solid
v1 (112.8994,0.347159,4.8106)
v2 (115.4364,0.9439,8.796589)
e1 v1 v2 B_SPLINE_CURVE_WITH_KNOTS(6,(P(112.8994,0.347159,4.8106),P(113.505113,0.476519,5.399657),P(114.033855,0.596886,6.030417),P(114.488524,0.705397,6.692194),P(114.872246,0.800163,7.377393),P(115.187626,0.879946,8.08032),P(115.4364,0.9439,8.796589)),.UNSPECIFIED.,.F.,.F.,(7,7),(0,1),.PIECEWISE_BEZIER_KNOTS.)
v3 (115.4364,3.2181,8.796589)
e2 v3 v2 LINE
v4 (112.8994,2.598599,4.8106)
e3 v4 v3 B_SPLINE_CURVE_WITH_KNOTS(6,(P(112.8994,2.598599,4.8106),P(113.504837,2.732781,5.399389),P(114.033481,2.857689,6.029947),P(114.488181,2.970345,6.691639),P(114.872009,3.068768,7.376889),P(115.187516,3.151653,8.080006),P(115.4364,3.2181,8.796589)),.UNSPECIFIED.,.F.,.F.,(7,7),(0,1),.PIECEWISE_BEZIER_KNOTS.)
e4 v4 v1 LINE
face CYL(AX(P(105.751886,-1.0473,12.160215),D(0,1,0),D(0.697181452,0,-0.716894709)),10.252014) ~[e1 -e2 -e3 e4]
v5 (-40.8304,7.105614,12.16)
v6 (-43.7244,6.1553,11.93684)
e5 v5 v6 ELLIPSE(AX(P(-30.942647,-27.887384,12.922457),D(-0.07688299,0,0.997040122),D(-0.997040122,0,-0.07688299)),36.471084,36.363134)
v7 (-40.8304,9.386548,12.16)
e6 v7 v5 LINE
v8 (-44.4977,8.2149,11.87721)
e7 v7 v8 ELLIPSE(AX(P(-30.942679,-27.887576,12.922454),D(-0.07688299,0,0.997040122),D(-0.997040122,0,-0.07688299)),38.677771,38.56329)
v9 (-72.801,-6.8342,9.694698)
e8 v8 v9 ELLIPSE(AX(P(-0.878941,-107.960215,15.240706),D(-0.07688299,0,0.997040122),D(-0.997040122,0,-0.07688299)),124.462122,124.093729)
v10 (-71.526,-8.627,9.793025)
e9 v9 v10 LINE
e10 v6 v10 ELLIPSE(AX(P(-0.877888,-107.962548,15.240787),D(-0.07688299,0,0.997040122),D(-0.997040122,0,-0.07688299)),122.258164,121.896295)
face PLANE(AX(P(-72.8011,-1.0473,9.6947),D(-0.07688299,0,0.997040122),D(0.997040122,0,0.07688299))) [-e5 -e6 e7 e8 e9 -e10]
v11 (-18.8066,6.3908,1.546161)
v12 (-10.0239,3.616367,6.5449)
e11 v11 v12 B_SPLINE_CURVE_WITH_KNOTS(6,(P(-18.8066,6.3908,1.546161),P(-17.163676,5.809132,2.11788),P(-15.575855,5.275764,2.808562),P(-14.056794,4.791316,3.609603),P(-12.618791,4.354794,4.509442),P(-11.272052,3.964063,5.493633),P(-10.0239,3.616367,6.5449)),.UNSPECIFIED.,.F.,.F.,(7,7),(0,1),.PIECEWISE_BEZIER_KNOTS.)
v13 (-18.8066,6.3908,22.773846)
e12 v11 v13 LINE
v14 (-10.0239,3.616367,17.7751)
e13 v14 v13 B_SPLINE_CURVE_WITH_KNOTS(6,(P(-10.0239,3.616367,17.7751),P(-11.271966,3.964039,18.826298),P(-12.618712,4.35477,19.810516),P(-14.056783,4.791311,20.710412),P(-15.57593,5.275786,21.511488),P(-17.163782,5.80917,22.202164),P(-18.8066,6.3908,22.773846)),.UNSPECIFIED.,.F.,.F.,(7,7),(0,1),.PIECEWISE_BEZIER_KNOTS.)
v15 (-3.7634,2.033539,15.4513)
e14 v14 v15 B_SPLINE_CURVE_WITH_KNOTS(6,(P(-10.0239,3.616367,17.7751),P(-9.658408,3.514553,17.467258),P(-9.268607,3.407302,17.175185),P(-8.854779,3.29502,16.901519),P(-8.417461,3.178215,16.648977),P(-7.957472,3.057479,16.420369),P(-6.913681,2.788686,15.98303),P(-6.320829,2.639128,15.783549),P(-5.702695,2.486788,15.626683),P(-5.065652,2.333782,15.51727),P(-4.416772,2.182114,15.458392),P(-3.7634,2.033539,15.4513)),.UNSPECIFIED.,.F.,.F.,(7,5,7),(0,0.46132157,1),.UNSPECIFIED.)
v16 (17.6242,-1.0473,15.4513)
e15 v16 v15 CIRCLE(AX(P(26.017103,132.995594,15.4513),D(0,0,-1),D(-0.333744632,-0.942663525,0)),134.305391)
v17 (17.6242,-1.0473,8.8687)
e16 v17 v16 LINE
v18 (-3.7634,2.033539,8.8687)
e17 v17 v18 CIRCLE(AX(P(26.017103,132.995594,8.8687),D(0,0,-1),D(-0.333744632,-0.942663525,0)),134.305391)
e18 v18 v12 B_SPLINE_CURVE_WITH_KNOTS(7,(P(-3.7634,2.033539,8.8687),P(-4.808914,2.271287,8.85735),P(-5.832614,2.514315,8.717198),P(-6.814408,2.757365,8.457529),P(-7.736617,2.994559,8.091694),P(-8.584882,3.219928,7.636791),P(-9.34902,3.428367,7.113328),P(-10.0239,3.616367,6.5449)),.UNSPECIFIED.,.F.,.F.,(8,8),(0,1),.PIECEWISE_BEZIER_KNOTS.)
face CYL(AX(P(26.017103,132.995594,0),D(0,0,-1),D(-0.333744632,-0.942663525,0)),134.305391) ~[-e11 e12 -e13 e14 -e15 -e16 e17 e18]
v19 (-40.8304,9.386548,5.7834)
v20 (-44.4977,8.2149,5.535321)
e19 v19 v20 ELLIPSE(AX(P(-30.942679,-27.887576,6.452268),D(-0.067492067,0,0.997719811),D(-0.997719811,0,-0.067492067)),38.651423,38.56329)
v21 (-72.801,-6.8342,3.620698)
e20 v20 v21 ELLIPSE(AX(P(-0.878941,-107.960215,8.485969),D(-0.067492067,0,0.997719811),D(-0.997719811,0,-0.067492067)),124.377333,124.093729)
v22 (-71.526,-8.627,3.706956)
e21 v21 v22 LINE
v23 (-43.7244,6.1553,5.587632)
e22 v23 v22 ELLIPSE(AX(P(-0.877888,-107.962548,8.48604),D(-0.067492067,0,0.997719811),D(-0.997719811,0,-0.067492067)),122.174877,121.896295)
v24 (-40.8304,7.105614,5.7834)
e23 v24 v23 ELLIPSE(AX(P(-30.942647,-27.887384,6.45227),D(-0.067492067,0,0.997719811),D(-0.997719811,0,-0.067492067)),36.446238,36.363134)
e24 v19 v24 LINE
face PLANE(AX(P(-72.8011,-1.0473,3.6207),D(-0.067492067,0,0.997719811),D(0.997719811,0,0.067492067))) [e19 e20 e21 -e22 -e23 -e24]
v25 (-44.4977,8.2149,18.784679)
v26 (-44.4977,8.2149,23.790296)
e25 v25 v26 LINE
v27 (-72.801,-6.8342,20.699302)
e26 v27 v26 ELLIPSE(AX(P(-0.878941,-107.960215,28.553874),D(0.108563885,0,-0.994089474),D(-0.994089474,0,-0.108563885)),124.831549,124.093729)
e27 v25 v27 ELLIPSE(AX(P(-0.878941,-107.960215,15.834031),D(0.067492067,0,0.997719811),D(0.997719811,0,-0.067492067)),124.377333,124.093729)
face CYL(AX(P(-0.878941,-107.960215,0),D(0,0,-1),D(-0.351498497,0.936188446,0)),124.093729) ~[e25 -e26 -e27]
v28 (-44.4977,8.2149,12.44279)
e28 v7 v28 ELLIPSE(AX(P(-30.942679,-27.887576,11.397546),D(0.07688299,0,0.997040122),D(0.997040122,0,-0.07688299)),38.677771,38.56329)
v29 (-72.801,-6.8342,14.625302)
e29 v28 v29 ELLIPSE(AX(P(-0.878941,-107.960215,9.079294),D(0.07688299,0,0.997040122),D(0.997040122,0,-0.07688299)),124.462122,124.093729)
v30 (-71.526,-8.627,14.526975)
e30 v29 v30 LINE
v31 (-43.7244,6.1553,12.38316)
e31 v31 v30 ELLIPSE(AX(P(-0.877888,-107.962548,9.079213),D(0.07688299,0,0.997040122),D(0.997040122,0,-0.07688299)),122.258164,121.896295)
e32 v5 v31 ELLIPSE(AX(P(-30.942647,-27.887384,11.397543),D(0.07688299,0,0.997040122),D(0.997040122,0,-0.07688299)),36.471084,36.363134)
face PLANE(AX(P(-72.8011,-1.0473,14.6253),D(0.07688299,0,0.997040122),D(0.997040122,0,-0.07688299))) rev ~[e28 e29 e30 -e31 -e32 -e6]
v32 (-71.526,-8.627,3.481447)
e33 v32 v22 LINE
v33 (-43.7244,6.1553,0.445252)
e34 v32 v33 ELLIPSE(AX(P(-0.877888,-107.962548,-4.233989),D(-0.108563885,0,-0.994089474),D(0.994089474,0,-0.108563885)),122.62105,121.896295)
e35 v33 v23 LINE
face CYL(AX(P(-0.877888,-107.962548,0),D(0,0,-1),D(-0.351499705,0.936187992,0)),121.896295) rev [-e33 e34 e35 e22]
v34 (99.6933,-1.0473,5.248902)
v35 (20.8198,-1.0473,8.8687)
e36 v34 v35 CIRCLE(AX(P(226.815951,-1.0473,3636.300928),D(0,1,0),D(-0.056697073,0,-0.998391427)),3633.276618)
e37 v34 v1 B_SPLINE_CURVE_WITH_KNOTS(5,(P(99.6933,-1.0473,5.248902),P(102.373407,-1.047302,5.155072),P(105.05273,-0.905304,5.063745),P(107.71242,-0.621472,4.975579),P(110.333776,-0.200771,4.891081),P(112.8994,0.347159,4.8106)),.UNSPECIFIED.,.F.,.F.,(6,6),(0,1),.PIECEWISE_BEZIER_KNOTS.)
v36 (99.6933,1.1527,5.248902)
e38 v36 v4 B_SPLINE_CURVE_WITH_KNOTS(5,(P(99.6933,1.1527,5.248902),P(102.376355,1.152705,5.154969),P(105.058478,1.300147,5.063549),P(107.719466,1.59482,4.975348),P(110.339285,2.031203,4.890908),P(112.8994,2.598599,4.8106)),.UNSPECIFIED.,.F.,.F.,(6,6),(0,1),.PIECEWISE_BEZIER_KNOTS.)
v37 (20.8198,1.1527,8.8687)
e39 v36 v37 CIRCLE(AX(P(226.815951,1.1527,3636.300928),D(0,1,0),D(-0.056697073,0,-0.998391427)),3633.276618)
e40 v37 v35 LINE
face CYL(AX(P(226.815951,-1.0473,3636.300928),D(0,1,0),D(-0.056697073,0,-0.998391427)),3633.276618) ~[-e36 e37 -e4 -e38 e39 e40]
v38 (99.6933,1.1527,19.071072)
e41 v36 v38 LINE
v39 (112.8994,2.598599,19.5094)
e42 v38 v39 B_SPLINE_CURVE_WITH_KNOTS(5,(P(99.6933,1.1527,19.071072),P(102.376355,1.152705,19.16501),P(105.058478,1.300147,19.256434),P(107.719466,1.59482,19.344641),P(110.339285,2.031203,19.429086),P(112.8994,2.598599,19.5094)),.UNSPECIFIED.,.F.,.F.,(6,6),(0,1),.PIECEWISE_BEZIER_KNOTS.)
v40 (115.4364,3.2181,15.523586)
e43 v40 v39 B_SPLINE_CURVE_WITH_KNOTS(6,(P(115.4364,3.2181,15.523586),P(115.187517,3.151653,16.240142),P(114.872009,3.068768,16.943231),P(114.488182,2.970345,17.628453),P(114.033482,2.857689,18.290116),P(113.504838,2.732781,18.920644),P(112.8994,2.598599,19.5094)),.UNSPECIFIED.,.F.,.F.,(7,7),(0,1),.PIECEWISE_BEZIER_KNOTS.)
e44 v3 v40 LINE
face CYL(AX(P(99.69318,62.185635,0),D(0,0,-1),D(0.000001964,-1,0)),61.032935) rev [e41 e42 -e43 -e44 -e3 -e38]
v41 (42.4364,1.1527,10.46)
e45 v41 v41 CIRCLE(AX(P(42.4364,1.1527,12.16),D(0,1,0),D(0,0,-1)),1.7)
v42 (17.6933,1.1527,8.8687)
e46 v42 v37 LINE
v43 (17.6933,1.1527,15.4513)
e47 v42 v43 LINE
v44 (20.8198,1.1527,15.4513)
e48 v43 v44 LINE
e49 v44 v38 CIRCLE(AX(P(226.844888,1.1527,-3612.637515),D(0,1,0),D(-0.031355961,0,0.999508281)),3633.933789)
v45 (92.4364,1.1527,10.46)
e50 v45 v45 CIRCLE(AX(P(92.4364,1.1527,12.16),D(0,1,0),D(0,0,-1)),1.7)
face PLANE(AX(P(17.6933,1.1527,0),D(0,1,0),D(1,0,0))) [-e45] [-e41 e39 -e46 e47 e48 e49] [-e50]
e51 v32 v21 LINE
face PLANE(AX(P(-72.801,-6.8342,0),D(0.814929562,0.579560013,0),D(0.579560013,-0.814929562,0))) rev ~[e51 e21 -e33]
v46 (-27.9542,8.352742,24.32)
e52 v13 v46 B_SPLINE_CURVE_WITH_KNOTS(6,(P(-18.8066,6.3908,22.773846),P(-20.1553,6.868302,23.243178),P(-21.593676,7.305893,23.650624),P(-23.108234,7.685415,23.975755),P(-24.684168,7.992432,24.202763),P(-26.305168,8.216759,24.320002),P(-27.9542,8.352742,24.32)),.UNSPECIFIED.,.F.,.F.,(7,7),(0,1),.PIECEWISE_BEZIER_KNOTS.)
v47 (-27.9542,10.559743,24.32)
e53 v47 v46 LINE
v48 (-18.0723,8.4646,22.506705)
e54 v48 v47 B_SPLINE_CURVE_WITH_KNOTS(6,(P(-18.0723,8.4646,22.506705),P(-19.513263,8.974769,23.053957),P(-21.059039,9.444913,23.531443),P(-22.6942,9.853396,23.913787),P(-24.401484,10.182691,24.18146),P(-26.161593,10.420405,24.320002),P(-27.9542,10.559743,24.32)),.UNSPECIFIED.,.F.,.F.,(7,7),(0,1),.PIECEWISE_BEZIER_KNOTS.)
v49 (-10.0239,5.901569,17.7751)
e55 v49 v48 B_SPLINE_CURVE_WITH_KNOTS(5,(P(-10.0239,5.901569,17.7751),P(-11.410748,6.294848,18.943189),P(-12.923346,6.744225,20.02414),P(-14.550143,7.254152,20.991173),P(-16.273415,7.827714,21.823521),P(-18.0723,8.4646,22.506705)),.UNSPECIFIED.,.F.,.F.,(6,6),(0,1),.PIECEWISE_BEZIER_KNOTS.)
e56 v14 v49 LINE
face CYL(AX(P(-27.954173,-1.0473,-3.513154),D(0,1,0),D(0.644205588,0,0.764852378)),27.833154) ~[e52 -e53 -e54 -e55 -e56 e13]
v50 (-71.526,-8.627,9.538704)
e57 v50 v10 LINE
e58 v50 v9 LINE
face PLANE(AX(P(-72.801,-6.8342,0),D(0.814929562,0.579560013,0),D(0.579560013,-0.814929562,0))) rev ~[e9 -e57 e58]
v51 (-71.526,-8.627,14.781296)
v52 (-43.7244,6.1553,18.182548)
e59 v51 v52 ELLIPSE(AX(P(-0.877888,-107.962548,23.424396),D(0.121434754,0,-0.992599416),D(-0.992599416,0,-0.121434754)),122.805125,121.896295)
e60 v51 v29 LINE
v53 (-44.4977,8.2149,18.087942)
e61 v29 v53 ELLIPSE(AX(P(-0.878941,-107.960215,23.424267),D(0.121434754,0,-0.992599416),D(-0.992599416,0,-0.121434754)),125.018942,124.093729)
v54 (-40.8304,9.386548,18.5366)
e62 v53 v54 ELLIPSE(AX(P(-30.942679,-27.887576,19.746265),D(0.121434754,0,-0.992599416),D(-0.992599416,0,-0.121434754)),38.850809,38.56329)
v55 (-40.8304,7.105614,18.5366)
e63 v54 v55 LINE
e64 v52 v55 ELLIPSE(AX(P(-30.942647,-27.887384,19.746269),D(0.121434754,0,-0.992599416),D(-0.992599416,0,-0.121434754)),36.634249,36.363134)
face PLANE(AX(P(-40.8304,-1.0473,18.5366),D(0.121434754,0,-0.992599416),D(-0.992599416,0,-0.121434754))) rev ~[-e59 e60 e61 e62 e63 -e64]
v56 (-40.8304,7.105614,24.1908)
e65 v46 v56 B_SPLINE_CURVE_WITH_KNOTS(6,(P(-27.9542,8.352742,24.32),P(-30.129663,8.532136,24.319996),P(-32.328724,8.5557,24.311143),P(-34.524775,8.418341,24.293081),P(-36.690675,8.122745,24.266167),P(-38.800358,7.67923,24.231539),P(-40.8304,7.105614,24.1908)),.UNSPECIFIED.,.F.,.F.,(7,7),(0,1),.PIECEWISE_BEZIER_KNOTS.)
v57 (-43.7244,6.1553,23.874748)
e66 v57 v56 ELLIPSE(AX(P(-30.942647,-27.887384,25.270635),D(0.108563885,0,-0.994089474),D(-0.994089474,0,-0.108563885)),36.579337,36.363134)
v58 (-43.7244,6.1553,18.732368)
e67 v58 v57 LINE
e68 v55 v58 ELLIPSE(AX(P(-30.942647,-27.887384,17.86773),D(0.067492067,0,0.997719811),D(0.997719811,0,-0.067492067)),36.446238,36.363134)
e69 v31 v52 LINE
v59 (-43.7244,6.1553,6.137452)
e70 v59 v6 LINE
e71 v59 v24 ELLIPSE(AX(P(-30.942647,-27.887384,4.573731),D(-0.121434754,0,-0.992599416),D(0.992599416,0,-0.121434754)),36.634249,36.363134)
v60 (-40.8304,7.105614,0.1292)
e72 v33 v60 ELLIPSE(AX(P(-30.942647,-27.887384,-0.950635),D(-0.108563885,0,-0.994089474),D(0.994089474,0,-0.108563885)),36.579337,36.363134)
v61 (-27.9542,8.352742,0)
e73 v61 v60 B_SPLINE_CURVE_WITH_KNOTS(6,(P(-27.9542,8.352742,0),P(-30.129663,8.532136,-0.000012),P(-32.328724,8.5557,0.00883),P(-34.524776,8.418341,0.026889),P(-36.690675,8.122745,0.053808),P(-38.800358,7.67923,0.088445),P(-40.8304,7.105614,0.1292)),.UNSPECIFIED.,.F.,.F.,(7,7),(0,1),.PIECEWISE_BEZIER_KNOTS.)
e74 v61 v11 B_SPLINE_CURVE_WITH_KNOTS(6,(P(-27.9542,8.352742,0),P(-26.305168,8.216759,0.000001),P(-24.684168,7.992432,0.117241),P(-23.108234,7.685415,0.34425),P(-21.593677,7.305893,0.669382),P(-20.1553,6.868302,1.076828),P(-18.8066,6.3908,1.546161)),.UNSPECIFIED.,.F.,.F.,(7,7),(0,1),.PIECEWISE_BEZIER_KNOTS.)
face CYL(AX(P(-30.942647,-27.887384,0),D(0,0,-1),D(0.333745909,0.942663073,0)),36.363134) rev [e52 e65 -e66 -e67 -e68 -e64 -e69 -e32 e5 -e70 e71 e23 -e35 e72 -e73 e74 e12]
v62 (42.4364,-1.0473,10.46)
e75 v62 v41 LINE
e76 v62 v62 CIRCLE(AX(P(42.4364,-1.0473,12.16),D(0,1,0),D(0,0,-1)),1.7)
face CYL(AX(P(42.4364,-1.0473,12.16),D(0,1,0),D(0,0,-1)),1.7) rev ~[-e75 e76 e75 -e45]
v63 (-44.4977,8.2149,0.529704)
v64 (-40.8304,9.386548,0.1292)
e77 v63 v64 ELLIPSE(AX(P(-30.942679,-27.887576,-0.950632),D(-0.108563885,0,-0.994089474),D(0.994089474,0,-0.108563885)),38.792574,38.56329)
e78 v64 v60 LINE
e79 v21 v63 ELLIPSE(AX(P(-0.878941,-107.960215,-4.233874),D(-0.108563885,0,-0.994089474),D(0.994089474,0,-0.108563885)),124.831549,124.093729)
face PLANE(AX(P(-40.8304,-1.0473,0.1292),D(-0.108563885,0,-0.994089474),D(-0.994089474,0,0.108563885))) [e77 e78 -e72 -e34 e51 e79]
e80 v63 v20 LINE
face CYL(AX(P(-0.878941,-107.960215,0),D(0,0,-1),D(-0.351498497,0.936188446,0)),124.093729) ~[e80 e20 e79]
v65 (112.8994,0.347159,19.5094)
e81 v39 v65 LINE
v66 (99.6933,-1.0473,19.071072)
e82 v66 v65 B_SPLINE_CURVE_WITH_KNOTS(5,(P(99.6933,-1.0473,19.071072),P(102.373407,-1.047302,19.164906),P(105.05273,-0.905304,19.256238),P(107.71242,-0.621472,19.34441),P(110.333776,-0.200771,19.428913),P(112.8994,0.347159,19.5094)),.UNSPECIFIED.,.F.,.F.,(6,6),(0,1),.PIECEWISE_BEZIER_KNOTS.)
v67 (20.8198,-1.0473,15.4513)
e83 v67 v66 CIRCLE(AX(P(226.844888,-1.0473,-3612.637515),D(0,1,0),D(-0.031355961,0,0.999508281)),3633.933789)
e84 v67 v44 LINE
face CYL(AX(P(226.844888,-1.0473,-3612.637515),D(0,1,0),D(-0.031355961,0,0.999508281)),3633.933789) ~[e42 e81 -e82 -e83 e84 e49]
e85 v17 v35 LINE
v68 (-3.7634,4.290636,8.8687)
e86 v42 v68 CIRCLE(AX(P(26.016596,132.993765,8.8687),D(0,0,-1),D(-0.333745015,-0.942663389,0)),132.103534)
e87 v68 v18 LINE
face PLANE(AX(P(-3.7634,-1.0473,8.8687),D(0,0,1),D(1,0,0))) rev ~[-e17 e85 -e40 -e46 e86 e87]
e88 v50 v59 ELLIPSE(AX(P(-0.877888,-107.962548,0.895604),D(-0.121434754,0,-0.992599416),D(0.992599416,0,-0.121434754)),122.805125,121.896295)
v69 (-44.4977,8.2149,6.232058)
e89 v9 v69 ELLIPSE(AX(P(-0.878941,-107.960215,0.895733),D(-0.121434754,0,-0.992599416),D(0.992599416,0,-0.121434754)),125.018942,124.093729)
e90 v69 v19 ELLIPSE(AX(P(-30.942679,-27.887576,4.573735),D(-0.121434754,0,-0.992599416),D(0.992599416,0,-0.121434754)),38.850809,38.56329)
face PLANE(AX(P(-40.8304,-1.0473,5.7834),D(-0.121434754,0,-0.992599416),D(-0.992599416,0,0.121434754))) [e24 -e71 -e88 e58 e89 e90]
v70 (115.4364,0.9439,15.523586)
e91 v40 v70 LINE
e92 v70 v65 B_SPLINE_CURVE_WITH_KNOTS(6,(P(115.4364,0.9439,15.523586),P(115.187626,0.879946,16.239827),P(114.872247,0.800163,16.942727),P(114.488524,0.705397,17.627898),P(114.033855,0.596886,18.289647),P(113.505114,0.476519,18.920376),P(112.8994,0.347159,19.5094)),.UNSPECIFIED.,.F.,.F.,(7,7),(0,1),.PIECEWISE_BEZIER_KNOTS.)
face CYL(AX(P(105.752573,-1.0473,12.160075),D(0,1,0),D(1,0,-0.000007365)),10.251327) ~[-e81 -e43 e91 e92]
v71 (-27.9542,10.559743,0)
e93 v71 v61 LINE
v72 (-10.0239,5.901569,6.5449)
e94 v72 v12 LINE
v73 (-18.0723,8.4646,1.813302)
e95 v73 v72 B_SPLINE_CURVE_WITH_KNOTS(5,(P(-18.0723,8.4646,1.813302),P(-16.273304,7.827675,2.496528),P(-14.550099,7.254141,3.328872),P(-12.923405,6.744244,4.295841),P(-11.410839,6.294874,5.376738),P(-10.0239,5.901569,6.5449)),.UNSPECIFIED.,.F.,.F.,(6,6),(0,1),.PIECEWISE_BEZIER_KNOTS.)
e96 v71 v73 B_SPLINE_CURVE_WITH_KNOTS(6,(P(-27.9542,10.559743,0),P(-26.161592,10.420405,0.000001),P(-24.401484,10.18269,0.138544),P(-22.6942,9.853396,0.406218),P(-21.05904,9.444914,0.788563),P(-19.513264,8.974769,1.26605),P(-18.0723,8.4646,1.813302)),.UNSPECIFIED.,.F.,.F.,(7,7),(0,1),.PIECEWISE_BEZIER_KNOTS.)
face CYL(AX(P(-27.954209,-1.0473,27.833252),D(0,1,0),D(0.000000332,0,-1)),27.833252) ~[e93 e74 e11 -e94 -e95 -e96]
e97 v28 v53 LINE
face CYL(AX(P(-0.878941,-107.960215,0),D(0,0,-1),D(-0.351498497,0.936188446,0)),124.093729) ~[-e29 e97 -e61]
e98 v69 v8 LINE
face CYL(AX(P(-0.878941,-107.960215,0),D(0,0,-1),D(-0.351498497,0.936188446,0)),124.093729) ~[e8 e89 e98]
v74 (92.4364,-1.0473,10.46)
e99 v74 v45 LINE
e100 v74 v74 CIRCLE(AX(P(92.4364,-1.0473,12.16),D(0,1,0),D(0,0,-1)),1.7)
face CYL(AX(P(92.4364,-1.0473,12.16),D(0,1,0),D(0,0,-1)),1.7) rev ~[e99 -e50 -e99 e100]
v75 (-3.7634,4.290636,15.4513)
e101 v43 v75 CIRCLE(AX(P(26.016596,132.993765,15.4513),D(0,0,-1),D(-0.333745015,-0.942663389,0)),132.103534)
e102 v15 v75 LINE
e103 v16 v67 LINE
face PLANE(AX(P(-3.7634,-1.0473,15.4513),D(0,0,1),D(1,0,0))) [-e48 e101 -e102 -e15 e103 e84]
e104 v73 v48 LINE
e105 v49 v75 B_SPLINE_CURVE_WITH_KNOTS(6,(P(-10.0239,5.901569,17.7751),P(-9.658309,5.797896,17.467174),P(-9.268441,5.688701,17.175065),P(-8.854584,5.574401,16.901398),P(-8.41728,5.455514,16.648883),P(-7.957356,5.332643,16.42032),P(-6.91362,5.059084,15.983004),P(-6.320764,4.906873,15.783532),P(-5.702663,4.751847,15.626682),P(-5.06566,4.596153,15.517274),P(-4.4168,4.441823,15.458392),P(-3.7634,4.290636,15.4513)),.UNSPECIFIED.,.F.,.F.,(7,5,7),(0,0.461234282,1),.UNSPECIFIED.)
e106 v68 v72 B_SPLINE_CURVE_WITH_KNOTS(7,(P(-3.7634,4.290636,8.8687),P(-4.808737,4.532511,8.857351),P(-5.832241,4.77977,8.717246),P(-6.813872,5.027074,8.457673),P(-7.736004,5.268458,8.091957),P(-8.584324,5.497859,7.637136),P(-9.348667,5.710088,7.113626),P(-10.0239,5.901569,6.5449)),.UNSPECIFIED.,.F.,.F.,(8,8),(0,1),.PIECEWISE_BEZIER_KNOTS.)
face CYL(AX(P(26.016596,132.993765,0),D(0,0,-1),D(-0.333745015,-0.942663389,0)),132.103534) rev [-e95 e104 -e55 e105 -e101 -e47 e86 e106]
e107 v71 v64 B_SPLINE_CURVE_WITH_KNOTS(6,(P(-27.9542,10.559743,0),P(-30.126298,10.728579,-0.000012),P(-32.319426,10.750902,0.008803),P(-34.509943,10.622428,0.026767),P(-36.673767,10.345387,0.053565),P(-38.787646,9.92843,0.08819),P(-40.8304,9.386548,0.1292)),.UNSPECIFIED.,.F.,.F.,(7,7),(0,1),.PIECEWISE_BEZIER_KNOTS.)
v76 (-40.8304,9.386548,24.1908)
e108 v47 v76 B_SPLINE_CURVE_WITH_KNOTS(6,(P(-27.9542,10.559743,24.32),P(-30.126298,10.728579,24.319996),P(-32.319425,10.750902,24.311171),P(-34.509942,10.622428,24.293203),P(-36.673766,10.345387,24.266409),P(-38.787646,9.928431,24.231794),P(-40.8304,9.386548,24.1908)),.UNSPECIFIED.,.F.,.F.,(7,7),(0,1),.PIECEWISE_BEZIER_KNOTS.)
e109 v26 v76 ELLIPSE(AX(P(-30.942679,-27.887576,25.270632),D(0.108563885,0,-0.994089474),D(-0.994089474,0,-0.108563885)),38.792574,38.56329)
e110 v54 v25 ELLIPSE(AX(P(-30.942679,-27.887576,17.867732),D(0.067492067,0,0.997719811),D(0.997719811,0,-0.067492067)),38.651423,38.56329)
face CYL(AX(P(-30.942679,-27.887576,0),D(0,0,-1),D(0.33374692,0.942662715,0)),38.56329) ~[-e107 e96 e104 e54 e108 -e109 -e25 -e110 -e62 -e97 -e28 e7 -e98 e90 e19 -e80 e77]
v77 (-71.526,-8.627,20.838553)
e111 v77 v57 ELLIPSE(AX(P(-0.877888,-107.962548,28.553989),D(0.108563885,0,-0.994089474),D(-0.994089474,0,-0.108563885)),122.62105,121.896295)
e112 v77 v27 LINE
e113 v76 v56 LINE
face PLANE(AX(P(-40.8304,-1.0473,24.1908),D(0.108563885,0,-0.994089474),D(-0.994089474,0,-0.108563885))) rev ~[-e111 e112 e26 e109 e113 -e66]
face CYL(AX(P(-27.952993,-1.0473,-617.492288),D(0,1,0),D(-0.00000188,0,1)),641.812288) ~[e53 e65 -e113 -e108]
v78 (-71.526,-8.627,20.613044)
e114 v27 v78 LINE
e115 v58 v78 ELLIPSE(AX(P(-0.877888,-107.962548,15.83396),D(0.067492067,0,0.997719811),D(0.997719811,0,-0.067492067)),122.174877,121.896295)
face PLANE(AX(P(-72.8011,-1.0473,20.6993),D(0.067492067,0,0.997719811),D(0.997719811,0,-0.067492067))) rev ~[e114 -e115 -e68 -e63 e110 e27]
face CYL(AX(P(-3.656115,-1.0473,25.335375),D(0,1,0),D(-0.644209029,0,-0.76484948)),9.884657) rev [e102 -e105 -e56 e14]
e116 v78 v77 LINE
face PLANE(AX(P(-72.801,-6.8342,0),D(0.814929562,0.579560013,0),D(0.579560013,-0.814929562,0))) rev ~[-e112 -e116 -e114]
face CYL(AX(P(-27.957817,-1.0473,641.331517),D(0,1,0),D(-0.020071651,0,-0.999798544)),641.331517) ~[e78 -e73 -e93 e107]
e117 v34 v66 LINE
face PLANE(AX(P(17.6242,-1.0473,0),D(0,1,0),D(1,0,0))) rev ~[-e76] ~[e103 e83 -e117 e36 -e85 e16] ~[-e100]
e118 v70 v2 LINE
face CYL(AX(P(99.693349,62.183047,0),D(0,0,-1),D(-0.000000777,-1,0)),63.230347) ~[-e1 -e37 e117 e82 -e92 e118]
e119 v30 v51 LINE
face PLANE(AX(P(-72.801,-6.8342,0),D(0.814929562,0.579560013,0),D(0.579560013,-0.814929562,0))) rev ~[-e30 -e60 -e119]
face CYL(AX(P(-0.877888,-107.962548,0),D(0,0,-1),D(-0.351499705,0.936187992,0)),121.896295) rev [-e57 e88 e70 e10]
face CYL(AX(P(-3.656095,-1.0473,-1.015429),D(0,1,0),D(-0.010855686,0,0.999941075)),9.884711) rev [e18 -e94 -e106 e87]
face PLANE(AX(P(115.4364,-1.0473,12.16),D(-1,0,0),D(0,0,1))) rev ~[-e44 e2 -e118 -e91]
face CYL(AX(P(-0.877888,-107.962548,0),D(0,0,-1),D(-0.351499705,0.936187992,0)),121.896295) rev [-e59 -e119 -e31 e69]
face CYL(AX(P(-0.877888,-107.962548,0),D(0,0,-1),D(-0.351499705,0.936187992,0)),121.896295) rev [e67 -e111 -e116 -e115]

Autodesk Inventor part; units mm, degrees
ref_plane "YZ Plane" through (0, 0, 0) normal (1, 0, 0) x (0, 1, 0)
ref_plane "XZ Plane" through (0, 0, 0) normal (0, 1, 0) x (-1, 0, 0)
ref_plane "XY Plane" through (0, 0, 0) normal (0, 0, 1) x (1, 0, 0)
sketch "スケッチ2" plane through (0, 0, 0) normal (0, 0, 1) x (1, 0, 0)
  arc A0 (-18.0723, 8.4646) -> (-44.4977, 8.2149) centre (-30.9427, -27.8877) ccw
  arc A1 (-18.0723, 8.4646) -> (17.6933, 1.1527) centre (26.0163, 132.9927) ccw
  arc A2 (99.6933, 1.1527) -> (115.4364, 3.2181) centre (99.6933, 62.1838) ccw
  arc A3 (-44.4977, 8.2149) -> (-72.801, -6.8342) centre (-0.878, -107.9623) ccw
  line L0 (17.6933, 1.1527) -> (99.6933, 1.1527)
  arc A4 (-43.7244, 6.1553) -> (-71.526, -8.627) centre (-0.878, -107.9623) ccw
  arc A5 (-18.8066, 6.3908) -> (-43.7244, 6.1553) centre (-30.9427, -27.8877) ccw
  arc A6 (-18.8066, 6.3908) -> (17.6242, -1.0473) centre (26.0163, 132.9927) ccw
  line L1 (17.6242, -1.0473) -> (99.6933, -1.0473)
  arc A7 (99.6933, -1.0473) -> (116.0039, 1.0926) centre (99.6933, 62.1838) ccw
  line L2 (-72.801, -6.8342) -> (-71.526, -8.627)
  line L3 (115.4364, 3.2181) -> (116.0039, 1.0926)
  point P0 (0, 0)
  dimension "d19" = 82
  dimension "d26" = 132.1025
  dimension "d27" = 38.5634
  dimension "d28" = 124.096
  dimension "d29" = 14.842
  dimension "d30" = 40.075
  dimension "d31" = 15.884
  dimension "d32" = 14.949
  dimension "d33" = 61.0311
  dimension "d34" = 2.2
extrude "押し出し2" add sketch "スケッチ2" along normal blind 24.32
sketch "スケッチ3" plane through (17.6242, -1.0473, 0) normal (0, -1, 0) x (1, 0, 0)
  line L0 (98.3797, 0) -> (98.3797, 24.32) projected
  arc A0 (-45.5784, 24.32) -> (-58.4546, 24.1908) centre (-45.5784, -617.2518) ccw
  line L1 (-61.3487, 24.32) -> (-36.4308, 24.32) projected
  arc A1 (-27.6481, 17.7751) -> (-45.5784, 24.32) centre (-45.5784, -3.5132) ccw
  arc A2 (-27.6481, 17.7751) -> (-21.3876, 15.4513) centre (-21.2803, 25.3354) ccw
  arc A3 (95.2752, 19.5094) -> (3.1956, 15.4513) centre (209.2083, -3612.3091) ccw
  line L2 (97.8122, 0) -> (97.8122, 24.32) projected
  arc A4 (98.3797, 12.16) -> (95.2752, 19.5094) centre (88.128, 12.16) ccw
  line L3 (-21.3876, 15.4513) -> (3.1956, 15.4513)
  line L4 (-90.4253, 0) -> (-90.4253, 24.32) projected
  line L5 (-58.4546, 24.1908) -> (-90.4253, 20.6993)
  line L6 (-90.4253, 20.6993) -> (-58.4546, 18.5366)
  line L7 (-58.4546, 18.5366) -> (-90.4253, 14.6253)
  line L8 (-90.4253, 14.6253) -> (-58.4546, 12.16)
  line L9 (-58.4546, 12.16) -> (98.3797, 12.16)
  arc A5 (-58.4546, 0.1292) -> (-45.5784, 0) centre (-45.5784, 641.5718) ccw
  arc A6 (-45.5784, 0) -> (-27.6481, 6.5449) centre (-45.5784, 27.8332) ccw
  arc A7 (-21.3876, 8.8687) -> (-27.6481, 6.5449) centre (-21.2803, -1.0154) ccw
  arc A8 (3.1956, 8.8687) -> (95.2752, 4.8106) centre (209.2083, 3636.6291) ccw
  arc A9 (95.2752, 4.8106) -> (98.3797, 12.16) centre (88.128, 12.16) ccw
  line L10 (-21.3876, 8.8687) -> (3.1956, 8.8687)
  line L11 (-58.4546, 0.1292) -> (-90.4253, 3.6207)
  line L12 (-90.4253, 3.6207) -> (-58.4546, 5.7834)
  line L13 (-58.4546, 5.7834) -> (-90.4253, 9.6947)
  line L14 (-90.4253, 9.6947) -> (-58.4546, 12.16)
  point P0 (97.8122, 12.16)
  point P1 (97.8122, 8.7964)
  point P2 (97.8122, 15.5236)
extrude "押し出し3" cut sketch "スケッチ3" along normal mid plane 24.32 contours A1 A2 L3 A3 A4 L2 L9 L8 L7 L6 L5 A0 | L14 L9 L2 A9 A8 L10 A7 A6 A5 L11 L12 L13 keep common part
sketch "スケッチ4" plane through (17.6242, -1.0473, 8.8687) normal (0, -1, 0) x (1, 0, 0)
  line L0 (97.8122, 6.6548) -> (97.8122, -0.0723) projected
  point P0 (-17.6242, -8.8687)
  point P1 (74.8122, 3.2913)
  point P2 (97.8122, 3.2913)
  point P3 (24.8122, 3.2913)
  dimension "d39" = 23
  dimension "d47" = 50
hole "穴1" at (92.4364, -1.0473, 12.16) at (42.4364, -1.0473, 12.16) direction (0, 1, 0) diameter 3.4 end through all clearance for "Countersunk Flat Head Screw ISO 2009/7046" size "M3" standard "ISO"
properties part number "fork" material "ポリスチレン"
